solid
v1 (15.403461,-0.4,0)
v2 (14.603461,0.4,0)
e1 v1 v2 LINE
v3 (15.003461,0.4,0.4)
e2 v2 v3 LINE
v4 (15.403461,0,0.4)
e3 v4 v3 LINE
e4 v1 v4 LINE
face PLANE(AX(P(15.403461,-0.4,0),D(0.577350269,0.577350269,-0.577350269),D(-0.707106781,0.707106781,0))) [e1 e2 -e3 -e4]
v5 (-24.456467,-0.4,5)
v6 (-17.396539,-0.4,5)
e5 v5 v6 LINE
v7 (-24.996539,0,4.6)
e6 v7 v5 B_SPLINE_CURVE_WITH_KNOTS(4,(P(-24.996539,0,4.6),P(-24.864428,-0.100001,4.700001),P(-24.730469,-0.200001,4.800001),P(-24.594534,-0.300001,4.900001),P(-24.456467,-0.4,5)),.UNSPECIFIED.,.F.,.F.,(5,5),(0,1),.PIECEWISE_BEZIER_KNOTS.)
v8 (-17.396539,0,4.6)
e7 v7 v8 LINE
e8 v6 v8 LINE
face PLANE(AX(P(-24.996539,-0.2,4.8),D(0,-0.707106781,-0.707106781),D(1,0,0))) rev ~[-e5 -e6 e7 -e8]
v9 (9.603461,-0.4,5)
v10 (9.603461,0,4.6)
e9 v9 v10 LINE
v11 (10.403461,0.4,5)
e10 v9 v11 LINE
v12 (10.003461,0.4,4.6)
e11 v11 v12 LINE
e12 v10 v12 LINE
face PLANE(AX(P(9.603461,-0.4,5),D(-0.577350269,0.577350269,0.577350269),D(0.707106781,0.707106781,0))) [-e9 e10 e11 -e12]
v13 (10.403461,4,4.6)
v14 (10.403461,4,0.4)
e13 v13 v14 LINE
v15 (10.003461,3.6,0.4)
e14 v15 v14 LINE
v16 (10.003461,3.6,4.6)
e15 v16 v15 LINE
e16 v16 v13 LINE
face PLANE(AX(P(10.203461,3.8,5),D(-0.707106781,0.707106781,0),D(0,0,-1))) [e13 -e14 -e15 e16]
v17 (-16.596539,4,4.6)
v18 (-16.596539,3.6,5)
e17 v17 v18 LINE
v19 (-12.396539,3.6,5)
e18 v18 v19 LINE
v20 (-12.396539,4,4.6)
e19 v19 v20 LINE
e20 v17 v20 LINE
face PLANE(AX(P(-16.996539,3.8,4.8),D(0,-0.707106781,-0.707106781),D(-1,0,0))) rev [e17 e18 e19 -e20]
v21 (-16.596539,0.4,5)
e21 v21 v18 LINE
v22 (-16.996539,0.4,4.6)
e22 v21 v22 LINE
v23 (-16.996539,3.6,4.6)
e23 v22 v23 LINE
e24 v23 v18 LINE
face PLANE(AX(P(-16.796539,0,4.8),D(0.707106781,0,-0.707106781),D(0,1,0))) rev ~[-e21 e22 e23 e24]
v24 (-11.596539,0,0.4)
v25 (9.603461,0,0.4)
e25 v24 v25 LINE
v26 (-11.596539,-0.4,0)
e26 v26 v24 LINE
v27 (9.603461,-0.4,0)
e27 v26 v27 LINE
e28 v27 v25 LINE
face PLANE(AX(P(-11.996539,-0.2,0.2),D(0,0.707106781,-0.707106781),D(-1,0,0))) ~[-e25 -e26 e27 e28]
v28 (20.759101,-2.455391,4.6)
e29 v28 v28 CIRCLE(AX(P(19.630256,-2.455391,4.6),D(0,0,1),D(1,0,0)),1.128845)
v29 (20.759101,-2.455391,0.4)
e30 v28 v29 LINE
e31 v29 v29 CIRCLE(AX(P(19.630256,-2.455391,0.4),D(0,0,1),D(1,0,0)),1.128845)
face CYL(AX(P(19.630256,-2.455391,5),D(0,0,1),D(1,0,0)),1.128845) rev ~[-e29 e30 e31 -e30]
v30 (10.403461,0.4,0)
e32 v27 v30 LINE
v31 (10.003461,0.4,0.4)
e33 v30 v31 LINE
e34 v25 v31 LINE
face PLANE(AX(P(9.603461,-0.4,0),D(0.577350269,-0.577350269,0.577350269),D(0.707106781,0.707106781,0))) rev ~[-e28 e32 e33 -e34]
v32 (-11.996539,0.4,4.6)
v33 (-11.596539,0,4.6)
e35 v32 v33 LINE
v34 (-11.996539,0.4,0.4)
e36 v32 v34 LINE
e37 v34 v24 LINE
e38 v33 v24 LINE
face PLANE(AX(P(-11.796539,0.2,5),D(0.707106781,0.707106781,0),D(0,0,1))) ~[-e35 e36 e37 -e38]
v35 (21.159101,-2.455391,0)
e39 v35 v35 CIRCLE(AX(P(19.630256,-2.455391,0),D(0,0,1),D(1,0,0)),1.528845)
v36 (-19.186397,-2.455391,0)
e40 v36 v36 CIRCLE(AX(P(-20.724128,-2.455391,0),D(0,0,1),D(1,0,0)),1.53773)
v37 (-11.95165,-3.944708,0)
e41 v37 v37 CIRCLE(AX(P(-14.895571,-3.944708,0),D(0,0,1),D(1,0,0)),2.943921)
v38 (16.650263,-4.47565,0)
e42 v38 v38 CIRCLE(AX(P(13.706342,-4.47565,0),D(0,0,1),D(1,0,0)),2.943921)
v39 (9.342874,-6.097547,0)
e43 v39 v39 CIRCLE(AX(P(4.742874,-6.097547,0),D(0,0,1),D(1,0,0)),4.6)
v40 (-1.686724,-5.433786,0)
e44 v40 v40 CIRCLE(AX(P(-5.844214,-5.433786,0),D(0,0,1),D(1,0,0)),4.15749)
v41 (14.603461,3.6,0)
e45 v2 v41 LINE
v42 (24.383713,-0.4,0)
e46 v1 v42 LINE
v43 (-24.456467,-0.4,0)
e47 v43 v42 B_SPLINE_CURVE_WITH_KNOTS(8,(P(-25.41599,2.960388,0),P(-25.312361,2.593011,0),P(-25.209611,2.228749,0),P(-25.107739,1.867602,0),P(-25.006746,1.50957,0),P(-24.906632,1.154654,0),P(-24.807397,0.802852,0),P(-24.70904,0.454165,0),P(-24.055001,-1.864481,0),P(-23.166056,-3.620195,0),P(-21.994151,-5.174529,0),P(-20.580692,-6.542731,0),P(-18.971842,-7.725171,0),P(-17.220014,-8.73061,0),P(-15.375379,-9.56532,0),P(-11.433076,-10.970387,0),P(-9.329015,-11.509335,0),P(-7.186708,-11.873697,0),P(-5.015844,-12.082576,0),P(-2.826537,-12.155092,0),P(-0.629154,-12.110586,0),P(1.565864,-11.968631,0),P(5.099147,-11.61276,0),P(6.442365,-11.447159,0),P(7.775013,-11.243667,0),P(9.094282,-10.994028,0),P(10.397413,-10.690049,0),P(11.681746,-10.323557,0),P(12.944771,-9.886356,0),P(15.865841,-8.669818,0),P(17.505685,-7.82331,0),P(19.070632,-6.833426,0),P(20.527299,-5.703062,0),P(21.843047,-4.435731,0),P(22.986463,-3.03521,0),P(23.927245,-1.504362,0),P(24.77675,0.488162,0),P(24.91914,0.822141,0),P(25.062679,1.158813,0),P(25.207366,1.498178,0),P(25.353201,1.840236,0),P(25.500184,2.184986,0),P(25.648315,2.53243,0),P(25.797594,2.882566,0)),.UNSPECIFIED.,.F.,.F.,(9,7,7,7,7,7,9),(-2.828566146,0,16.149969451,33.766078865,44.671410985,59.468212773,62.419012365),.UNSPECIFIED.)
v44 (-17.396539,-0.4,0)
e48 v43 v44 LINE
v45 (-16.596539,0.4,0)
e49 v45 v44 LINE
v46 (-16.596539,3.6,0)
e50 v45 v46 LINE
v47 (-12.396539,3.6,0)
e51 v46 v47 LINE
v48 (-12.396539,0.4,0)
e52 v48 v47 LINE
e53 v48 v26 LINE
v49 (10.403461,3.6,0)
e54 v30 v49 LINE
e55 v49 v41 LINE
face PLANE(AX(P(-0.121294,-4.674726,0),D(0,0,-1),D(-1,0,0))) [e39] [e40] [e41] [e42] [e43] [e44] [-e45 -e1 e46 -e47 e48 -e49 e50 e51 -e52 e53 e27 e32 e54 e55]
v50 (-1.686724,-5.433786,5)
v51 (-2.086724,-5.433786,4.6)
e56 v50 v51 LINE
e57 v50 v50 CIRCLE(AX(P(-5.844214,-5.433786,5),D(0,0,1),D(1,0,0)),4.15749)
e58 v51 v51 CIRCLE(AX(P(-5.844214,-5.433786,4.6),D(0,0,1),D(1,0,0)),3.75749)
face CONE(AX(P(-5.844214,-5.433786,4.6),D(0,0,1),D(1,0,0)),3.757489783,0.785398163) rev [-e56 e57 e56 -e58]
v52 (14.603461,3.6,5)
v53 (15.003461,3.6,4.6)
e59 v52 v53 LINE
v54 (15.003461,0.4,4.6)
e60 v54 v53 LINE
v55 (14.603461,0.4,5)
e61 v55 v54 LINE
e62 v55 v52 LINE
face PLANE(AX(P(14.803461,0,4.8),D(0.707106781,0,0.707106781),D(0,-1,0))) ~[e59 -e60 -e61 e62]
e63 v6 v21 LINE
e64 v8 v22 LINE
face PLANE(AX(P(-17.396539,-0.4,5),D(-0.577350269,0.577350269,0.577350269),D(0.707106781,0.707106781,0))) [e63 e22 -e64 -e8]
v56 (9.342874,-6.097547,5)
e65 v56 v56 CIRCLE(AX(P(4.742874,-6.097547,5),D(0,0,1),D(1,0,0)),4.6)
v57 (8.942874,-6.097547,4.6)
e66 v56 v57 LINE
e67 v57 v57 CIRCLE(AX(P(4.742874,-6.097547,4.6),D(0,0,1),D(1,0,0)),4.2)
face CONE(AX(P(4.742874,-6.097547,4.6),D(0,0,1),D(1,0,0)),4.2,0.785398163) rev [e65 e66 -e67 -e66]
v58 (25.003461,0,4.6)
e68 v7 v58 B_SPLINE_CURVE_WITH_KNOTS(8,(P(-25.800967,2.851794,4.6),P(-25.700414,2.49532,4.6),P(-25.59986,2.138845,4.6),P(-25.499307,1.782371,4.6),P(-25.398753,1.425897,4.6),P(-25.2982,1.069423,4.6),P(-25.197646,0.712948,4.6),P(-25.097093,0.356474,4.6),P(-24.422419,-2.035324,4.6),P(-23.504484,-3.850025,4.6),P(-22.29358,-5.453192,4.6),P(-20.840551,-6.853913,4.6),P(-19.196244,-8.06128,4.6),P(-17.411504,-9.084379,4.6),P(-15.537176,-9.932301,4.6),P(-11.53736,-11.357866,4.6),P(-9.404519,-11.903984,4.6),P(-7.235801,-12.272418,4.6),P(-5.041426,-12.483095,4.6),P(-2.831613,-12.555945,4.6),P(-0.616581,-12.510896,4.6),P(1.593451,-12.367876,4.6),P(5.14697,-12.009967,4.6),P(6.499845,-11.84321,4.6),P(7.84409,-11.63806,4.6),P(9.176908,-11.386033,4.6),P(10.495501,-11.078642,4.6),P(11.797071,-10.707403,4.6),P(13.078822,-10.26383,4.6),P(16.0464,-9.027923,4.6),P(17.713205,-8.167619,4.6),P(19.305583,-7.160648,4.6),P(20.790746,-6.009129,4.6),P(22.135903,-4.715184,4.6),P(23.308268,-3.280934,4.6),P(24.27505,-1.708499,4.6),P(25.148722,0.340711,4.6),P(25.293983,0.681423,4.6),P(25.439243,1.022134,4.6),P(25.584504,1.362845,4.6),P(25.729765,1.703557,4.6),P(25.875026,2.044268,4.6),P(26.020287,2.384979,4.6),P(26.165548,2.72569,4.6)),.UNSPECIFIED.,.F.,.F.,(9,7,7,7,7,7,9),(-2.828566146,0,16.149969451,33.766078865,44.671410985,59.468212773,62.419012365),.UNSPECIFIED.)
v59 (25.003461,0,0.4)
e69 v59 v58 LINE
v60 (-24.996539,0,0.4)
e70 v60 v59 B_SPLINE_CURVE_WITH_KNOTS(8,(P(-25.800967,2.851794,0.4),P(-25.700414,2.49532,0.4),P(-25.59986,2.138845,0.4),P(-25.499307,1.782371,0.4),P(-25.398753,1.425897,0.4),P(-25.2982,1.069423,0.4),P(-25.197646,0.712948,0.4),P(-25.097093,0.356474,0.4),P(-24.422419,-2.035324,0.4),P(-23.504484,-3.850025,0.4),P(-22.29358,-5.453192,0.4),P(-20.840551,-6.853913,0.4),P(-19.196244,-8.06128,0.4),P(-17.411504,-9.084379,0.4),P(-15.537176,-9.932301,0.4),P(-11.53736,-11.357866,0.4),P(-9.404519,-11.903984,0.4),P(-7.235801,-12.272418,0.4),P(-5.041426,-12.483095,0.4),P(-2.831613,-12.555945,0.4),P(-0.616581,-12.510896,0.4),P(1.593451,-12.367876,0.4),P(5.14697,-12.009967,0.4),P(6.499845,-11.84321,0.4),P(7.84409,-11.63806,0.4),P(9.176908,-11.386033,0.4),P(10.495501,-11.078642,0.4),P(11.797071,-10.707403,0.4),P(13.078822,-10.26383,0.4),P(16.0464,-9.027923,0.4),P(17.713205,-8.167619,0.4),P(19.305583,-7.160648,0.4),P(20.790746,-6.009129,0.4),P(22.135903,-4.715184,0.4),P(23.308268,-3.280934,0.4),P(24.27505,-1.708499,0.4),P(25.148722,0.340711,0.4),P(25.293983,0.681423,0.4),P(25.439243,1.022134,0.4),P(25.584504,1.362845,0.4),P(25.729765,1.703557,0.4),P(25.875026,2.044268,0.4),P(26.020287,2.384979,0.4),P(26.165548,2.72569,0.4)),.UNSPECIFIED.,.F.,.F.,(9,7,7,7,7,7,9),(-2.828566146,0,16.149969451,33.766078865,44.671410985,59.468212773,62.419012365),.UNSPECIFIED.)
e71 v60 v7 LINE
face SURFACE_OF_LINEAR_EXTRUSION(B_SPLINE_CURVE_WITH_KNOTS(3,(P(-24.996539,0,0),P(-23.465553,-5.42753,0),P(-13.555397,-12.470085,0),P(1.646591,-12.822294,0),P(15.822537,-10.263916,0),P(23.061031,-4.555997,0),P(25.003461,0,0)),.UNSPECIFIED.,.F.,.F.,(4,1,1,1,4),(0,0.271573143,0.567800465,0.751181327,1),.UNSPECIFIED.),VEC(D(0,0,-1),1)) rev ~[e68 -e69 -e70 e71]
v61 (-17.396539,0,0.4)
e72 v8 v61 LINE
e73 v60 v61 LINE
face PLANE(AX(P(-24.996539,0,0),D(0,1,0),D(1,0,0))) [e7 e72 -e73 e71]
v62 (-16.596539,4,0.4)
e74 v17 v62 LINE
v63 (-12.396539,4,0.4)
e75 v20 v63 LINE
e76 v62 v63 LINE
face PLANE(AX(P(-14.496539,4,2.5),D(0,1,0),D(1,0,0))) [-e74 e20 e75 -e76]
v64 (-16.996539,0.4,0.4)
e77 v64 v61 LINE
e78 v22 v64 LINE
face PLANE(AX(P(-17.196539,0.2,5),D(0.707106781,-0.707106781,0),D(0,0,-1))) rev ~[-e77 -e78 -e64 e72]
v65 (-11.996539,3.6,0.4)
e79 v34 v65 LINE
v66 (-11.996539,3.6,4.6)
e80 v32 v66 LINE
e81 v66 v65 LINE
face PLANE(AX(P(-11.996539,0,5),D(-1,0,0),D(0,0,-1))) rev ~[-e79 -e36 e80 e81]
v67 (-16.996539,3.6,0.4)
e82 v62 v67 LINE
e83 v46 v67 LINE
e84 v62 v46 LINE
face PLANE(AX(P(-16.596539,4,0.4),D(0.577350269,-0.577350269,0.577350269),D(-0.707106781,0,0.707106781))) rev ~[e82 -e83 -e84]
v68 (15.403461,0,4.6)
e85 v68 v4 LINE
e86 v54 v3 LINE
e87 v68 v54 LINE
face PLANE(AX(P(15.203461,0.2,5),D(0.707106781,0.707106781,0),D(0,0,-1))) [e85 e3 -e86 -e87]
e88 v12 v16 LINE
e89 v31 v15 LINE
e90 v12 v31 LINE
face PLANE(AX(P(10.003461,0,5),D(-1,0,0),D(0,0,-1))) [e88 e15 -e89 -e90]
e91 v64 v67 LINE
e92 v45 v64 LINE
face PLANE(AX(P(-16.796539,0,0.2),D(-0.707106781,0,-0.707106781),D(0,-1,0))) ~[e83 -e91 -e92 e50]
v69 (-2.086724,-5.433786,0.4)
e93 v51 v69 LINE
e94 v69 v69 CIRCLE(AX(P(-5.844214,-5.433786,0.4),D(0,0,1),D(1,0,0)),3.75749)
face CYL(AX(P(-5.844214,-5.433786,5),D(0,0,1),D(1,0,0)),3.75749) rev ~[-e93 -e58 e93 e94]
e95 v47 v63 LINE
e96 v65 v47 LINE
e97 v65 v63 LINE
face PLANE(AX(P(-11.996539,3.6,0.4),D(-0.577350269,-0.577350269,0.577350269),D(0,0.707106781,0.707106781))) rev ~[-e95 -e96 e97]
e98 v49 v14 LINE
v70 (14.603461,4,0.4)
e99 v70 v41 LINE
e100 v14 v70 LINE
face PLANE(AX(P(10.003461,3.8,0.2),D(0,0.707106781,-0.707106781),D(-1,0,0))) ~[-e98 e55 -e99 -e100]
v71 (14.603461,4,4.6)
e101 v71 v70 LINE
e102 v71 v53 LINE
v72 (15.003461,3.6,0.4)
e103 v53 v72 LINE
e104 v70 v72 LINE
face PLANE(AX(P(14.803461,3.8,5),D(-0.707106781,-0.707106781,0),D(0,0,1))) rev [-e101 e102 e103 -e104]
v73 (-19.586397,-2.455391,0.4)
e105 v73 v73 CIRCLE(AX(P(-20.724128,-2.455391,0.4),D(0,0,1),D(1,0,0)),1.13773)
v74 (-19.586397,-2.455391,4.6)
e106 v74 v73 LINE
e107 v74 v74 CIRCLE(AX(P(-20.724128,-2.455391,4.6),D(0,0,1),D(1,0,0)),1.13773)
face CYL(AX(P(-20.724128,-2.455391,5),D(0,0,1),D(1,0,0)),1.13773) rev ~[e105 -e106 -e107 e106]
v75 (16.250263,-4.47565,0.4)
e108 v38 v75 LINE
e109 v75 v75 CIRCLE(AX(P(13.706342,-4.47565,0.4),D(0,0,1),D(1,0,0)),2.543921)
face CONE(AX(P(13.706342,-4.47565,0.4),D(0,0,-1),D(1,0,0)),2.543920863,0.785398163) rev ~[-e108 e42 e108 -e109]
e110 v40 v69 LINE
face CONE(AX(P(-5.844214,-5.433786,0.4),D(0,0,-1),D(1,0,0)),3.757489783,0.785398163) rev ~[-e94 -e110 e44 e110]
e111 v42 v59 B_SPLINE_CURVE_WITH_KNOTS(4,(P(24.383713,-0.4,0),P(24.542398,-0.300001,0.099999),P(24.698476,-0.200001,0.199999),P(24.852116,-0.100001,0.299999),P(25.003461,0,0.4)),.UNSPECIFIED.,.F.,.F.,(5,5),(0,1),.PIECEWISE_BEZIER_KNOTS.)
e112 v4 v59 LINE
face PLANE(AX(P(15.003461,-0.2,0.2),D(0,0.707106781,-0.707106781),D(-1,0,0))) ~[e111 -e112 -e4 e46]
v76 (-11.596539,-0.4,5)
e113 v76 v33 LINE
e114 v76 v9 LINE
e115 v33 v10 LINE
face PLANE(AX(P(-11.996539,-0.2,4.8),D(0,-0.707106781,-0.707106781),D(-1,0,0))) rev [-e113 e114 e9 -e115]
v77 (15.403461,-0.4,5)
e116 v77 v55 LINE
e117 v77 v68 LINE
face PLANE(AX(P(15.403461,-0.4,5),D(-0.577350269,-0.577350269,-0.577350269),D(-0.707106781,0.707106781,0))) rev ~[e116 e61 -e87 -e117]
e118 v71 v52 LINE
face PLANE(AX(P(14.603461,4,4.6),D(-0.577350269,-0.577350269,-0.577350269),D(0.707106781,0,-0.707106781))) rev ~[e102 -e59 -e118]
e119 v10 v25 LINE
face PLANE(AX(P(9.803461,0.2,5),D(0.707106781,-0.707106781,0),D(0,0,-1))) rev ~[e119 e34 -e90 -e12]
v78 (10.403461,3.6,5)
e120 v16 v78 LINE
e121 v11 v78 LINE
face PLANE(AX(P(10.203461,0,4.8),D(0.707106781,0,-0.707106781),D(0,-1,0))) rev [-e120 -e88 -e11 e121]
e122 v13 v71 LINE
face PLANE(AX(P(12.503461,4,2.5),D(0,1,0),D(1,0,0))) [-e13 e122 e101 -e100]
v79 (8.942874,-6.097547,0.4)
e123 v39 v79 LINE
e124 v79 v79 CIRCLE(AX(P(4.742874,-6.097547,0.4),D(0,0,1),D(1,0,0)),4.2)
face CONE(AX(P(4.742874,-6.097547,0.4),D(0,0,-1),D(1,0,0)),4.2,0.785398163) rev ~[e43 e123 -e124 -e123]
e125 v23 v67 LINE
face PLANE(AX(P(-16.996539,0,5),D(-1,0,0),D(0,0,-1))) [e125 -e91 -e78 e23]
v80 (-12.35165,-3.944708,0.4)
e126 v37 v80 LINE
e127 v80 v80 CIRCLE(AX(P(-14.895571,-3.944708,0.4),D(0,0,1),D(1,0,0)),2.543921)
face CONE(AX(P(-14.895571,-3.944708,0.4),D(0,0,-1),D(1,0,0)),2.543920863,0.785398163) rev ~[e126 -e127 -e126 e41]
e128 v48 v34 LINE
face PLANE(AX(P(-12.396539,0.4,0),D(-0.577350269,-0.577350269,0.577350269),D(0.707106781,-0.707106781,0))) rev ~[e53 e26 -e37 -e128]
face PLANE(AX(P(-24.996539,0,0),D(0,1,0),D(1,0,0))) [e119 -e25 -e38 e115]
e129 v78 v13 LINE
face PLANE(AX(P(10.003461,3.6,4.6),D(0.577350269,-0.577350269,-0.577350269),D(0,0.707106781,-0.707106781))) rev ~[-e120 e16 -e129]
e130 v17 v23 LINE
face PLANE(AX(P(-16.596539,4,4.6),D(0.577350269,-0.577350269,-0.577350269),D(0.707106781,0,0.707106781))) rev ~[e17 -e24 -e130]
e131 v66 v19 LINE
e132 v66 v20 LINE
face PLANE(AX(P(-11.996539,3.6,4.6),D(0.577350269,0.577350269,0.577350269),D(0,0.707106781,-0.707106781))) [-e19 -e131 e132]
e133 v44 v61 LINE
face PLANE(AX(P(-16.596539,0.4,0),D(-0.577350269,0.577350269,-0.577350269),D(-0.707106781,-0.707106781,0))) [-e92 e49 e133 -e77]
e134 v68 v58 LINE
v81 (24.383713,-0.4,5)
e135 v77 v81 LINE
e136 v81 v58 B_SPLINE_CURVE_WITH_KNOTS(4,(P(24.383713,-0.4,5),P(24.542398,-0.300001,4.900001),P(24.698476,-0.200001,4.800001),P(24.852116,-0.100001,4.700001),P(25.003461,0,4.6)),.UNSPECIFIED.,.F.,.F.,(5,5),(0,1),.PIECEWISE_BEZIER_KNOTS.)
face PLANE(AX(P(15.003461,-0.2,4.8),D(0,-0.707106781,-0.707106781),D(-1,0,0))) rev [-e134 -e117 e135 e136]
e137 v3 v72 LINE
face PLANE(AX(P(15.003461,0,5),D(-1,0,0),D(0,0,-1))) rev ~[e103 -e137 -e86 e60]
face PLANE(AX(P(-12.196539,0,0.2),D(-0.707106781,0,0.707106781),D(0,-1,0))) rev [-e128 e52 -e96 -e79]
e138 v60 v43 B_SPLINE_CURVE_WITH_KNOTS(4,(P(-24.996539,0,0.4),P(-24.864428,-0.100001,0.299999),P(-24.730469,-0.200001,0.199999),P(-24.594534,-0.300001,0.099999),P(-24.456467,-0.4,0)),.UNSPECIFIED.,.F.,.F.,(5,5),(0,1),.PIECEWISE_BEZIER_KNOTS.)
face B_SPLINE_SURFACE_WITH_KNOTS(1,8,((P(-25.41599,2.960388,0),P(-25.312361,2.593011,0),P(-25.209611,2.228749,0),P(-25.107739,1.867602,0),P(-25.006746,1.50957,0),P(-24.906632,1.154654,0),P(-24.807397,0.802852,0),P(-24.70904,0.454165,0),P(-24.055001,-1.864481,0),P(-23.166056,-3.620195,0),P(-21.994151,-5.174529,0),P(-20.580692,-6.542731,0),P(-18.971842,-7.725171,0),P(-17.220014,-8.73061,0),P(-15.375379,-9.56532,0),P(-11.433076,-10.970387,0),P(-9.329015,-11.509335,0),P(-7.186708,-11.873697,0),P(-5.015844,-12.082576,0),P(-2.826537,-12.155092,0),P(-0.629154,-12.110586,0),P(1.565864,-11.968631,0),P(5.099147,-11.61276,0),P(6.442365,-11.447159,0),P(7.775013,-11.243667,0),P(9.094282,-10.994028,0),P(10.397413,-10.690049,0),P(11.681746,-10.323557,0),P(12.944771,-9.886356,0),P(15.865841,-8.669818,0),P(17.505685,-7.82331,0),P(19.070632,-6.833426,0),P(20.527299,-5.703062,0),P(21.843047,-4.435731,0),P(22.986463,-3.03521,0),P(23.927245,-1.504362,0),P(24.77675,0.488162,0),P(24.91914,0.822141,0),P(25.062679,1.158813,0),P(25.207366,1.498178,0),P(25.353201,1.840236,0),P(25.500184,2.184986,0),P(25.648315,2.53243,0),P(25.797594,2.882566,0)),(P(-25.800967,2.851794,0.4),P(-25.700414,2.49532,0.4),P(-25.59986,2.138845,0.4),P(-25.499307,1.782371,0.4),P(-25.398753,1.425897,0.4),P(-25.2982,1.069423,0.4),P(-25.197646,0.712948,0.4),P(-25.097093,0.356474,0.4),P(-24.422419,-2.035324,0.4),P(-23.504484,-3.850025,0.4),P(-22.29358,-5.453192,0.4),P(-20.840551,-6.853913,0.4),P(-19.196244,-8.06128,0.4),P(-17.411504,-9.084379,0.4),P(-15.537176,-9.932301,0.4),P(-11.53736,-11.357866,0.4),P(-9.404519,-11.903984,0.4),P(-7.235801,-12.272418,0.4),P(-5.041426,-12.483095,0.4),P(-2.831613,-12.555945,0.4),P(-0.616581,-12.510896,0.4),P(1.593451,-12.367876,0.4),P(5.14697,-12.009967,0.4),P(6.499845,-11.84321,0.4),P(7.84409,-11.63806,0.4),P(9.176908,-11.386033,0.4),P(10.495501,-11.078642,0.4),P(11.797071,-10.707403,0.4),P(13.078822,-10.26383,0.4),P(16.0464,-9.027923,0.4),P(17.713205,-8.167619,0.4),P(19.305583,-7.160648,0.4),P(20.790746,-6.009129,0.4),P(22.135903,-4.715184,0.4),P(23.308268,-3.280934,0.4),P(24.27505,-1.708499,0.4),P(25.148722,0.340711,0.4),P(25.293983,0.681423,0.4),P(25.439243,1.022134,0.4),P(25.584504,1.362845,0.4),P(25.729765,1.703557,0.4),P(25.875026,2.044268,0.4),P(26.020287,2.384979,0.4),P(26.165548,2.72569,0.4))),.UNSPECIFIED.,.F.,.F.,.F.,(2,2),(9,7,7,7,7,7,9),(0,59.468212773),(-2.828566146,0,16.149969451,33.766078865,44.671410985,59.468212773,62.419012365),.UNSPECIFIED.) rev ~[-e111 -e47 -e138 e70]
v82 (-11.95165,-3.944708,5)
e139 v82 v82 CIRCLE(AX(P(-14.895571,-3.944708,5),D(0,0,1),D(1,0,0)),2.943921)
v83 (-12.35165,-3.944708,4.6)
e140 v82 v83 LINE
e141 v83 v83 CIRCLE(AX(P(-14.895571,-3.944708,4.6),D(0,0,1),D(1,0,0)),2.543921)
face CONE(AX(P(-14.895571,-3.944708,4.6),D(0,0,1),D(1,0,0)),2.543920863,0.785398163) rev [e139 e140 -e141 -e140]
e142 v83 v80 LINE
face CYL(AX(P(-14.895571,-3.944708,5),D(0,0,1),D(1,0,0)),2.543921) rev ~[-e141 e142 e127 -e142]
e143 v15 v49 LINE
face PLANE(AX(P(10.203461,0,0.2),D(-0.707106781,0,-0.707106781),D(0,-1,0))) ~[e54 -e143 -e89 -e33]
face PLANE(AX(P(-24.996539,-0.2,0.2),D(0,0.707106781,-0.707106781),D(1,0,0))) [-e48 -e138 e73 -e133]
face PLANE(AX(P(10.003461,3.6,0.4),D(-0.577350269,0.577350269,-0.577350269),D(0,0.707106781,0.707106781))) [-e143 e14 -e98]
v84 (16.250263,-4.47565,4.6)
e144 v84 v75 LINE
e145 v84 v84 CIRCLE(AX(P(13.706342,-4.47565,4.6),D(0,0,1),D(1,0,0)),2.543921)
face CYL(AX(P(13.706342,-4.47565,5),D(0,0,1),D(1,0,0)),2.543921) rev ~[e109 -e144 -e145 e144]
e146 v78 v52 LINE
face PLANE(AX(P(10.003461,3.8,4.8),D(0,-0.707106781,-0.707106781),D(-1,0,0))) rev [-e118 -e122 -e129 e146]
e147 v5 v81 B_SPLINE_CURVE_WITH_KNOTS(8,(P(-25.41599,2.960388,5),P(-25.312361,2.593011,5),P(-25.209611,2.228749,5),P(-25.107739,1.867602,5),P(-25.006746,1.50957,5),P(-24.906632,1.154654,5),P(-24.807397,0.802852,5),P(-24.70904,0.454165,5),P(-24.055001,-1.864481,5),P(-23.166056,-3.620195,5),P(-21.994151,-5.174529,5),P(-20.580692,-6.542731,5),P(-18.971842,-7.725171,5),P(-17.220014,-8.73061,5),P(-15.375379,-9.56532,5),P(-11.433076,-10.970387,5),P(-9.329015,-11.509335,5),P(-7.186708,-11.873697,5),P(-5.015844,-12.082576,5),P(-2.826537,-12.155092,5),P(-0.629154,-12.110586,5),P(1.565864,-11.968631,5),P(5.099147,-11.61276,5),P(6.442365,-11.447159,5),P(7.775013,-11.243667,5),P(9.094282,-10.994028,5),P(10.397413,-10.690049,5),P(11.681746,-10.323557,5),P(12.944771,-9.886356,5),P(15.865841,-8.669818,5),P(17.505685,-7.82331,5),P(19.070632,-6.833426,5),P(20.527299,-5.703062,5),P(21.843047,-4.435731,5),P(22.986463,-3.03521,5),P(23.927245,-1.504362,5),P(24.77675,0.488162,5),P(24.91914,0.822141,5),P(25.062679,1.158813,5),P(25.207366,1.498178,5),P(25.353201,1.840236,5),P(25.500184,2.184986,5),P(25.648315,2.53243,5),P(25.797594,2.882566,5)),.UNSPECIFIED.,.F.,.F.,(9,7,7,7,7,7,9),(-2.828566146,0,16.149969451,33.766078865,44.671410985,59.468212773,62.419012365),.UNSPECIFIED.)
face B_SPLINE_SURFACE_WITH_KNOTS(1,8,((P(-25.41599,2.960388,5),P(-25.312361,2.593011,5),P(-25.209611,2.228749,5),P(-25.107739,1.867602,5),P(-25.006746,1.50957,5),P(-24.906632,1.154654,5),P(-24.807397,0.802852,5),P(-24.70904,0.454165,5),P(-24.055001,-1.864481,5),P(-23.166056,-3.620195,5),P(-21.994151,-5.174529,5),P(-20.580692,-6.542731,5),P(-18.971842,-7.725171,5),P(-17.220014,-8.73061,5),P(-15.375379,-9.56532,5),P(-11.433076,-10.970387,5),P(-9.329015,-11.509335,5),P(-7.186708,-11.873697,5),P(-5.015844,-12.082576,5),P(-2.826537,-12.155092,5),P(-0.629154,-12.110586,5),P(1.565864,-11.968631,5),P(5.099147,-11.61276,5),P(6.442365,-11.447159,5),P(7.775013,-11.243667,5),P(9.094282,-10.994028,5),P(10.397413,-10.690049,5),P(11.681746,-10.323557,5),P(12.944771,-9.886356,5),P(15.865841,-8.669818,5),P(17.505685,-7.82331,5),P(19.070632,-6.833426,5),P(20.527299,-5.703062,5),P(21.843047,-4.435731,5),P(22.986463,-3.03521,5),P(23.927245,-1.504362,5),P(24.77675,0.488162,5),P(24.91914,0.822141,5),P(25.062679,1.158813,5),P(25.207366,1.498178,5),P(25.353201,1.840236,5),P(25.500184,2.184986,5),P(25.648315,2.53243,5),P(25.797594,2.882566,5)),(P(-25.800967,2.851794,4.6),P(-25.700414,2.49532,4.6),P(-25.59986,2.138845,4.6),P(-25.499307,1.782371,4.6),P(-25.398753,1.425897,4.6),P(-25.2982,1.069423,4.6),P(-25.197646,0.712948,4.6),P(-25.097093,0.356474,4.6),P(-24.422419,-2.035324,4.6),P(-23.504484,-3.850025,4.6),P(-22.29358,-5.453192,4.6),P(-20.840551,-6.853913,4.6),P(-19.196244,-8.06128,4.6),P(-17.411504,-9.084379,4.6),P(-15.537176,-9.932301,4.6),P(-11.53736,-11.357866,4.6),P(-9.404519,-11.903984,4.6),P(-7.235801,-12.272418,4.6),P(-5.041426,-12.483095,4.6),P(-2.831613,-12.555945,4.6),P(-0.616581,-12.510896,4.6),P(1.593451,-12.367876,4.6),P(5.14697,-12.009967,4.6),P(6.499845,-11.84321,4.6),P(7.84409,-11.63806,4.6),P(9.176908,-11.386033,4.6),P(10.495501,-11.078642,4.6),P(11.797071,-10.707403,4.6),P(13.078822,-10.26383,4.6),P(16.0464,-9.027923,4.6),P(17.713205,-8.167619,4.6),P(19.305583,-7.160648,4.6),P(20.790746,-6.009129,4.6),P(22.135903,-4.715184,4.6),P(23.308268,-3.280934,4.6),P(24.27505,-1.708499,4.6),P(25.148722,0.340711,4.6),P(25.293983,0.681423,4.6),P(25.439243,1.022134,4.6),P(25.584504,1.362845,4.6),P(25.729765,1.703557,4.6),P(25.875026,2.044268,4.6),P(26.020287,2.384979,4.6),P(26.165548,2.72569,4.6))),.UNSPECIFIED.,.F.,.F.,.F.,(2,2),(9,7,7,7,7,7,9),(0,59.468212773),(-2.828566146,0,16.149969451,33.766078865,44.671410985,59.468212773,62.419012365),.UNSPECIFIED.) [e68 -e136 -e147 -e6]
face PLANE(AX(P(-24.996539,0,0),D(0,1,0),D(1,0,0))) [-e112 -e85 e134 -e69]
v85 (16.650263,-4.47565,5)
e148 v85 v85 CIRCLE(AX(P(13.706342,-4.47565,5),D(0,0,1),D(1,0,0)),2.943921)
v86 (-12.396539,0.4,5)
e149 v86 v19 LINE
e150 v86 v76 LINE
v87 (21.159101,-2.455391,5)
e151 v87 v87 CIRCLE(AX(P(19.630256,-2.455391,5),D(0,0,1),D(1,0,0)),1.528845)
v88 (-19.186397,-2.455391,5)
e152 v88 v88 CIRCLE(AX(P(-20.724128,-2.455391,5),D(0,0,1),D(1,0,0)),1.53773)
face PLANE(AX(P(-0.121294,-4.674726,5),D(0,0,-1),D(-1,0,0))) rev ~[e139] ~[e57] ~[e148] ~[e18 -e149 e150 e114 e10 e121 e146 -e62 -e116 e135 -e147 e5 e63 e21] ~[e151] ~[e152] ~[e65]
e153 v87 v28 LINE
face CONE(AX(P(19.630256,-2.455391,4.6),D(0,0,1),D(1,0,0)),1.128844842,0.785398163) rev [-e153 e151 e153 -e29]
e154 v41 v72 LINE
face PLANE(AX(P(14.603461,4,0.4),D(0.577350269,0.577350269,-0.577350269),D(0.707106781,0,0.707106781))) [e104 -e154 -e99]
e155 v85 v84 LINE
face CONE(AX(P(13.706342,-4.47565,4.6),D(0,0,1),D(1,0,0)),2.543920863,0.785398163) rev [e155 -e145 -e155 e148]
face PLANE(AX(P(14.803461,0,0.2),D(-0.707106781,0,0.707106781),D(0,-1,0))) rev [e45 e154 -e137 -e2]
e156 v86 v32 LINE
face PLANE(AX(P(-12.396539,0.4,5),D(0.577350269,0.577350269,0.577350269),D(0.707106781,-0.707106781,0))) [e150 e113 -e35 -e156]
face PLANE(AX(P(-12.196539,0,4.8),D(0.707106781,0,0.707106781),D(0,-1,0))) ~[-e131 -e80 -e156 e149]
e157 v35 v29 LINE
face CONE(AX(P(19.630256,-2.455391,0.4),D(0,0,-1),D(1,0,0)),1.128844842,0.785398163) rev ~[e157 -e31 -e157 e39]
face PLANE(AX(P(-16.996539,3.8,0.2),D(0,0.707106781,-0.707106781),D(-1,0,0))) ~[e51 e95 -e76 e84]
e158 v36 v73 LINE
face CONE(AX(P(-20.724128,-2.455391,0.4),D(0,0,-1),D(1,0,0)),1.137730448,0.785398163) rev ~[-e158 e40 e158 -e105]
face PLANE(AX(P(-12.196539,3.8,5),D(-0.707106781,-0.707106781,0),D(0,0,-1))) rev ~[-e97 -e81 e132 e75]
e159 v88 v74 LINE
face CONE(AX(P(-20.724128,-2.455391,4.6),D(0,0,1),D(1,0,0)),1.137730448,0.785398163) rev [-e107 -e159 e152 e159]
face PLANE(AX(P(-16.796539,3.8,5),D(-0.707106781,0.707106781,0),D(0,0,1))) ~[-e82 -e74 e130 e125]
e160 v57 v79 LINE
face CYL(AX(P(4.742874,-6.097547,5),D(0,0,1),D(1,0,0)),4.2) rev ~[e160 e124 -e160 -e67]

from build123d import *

# Parameters (mm, degrees)
AUFSATZ_LINEAR_AUSTRAGEN1_DEPTH = 5
SKIZZE2_W                       = 5
SKIZZE2_H                       = 5
AUFSATZ_LINEAR_AUSTRAGEN2_DEPTH = 4
SKIZZE3_R                       = 2.543920863
SKIZZE3_R_2                     = 3.757489783
SKIZZE3_R_3                     = 4.2
SKIZZE3_R_4                     = 1.137730448
SKIZZE3_R_5                     = 1.128844842
SCHNITT_LINEAR_AUSTRAGEN1_DEPTH = 29.376694263
FASE1_SIZE                      = 0.4


with BuildPart() as part:
    # Skizze1 → Aufsatz-Linear austragen1 (new body)
    with BuildSketch(Plane.XY):
        with BuildLine():
            Line((-24.996538994, 0), (25.003461006, 0))
            add(Edge.make_bspline(
                [(-24.996538994, 0), (-23.465552519, -5.427530288), (-13.555397464, -12.470085354), (1.646590995, -12.822293736), (15.822536598, -10.26391571), (23.061031095, -4.555996838), (25.003461006, 0)],
                knots=[0, 0, 0, 0, 0.271573143, 0.567800465, 0.751181327, 1, 1, 1, 1], degree=3))
        make_face()
    extrude(amount=AUFSATZ_LINEAR_AUSTRAGEN1_DEPTH)

    # Skizze2 → Aufsatz-Linear austragen2 (add)
    with BuildSketch(Plane(origin=(0, 0, 0), x_dir=(1, 0, 0), z_dir=(0, 1, 0))):
        with Locations((-14.496538994, -2.5)):
            Rectangle(SKIZZE2_W, SKIZZE2_H)
        with Locations((12.503461006, -2.5)):
            Rectangle(SKIZZE2_W, SKIZZE2_H)
    extrude(amount=AUFSATZ_LINEAR_AUSTRAGEN2_DEPTH)

    # Skizze3 → Schnitt-Linear austragen1 (cut, through all)
    with BuildSketch(Plane.XY.offset(5)):
        with Locations((-14.895570814, -3.944707729)):
            Circle(SKIZZE3_R)
        with Locations((-5.844213974, -5.43378647)):
            Circle(SKIZZE3_R_2)
        with Locations((4.742874088, -6.097546966)):
            Circle(SKIZZE3_R_3)
        with Locations((13.706342424, -4.475649879)):
            Circle(SKIZZE3_R)
        with Locations((-20.724127791, -2.455391304)):
            Circle(SKIZZE3_R_4)
        with Locations((19.630255754, -2.455391304)):
            Circle(SKIZZE3_R_5)
    extrude(amount=-SCHNITT_LINEAR_AUSTRAGEN1_DEPTH, mode=Mode.SUBTRACT)

    # Fase1
    fase1_edges = [part.edges().sort_by_distance(p)[0] for p in [
        (-20.996538994, 0, 0),
        (-16.996538994, 0, 2.5),
        (-20.996538994, 0, 5),
        (-0.269521067, -12.424518261, 0),
        (-16.996538994, 2, 0),
        (20.003461006, 0, 0),
        (-14.496538994, 4, 0),
        (15.003461006, 2, 0),
        (-11.996538994, 2, 0),
        (12.503461006, 4, 0),
        (-0.996538994, 0, 0),
        (10.003461006, 2, 0),
        (0.542874088, -6.097546966, 0),
        (11.162421561, -4.475649879, 0),
        (18.501410913, -2.455391304, 0),
        (-9.601703757, -5.43378647, 0),
        (-17.439491677, -3.944707729, 0),
        (-21.861858238, -2.455391304, 0),
        (-16.996538994, 2, 5),
        (-16.996538994, 4, 2.5),
        (-0.269521067, -12.424518261, 5),
        (20.003461006, 0, 5),
        (-14.496538994, 4, 5),
        (15.003461006, 2, 5),
        (-11.996538994, 2, 5),
        (12.503461006, 4, 5),
        (-0.996538994, 0, 5),
        (10.003461006, 2, 5),
        (0.542874088, -6.097546966, 5),
        (11.162421561, -4.475649879, 5),
        (18.501410913, -2.455391304, 5),
        (-9.601703757, -5.43378647, 5),
        (-17.439491677, -3.944707729, 5),
        (-21.861858238, -2.455391304, 5),
        (15.003461006, 0, 2.5),
        (-11.996538994, 4, 2.5),
        (15.003461006, 4, 2.5),
        (-11.996538994, 0, 2.5),
        (10.003461006, 4, 2.5),
        (10.003461006, 0, 2.5),
    ]]
    chamfer(fase1_edges, length=FASE1_SIZE)


solid = part.part
